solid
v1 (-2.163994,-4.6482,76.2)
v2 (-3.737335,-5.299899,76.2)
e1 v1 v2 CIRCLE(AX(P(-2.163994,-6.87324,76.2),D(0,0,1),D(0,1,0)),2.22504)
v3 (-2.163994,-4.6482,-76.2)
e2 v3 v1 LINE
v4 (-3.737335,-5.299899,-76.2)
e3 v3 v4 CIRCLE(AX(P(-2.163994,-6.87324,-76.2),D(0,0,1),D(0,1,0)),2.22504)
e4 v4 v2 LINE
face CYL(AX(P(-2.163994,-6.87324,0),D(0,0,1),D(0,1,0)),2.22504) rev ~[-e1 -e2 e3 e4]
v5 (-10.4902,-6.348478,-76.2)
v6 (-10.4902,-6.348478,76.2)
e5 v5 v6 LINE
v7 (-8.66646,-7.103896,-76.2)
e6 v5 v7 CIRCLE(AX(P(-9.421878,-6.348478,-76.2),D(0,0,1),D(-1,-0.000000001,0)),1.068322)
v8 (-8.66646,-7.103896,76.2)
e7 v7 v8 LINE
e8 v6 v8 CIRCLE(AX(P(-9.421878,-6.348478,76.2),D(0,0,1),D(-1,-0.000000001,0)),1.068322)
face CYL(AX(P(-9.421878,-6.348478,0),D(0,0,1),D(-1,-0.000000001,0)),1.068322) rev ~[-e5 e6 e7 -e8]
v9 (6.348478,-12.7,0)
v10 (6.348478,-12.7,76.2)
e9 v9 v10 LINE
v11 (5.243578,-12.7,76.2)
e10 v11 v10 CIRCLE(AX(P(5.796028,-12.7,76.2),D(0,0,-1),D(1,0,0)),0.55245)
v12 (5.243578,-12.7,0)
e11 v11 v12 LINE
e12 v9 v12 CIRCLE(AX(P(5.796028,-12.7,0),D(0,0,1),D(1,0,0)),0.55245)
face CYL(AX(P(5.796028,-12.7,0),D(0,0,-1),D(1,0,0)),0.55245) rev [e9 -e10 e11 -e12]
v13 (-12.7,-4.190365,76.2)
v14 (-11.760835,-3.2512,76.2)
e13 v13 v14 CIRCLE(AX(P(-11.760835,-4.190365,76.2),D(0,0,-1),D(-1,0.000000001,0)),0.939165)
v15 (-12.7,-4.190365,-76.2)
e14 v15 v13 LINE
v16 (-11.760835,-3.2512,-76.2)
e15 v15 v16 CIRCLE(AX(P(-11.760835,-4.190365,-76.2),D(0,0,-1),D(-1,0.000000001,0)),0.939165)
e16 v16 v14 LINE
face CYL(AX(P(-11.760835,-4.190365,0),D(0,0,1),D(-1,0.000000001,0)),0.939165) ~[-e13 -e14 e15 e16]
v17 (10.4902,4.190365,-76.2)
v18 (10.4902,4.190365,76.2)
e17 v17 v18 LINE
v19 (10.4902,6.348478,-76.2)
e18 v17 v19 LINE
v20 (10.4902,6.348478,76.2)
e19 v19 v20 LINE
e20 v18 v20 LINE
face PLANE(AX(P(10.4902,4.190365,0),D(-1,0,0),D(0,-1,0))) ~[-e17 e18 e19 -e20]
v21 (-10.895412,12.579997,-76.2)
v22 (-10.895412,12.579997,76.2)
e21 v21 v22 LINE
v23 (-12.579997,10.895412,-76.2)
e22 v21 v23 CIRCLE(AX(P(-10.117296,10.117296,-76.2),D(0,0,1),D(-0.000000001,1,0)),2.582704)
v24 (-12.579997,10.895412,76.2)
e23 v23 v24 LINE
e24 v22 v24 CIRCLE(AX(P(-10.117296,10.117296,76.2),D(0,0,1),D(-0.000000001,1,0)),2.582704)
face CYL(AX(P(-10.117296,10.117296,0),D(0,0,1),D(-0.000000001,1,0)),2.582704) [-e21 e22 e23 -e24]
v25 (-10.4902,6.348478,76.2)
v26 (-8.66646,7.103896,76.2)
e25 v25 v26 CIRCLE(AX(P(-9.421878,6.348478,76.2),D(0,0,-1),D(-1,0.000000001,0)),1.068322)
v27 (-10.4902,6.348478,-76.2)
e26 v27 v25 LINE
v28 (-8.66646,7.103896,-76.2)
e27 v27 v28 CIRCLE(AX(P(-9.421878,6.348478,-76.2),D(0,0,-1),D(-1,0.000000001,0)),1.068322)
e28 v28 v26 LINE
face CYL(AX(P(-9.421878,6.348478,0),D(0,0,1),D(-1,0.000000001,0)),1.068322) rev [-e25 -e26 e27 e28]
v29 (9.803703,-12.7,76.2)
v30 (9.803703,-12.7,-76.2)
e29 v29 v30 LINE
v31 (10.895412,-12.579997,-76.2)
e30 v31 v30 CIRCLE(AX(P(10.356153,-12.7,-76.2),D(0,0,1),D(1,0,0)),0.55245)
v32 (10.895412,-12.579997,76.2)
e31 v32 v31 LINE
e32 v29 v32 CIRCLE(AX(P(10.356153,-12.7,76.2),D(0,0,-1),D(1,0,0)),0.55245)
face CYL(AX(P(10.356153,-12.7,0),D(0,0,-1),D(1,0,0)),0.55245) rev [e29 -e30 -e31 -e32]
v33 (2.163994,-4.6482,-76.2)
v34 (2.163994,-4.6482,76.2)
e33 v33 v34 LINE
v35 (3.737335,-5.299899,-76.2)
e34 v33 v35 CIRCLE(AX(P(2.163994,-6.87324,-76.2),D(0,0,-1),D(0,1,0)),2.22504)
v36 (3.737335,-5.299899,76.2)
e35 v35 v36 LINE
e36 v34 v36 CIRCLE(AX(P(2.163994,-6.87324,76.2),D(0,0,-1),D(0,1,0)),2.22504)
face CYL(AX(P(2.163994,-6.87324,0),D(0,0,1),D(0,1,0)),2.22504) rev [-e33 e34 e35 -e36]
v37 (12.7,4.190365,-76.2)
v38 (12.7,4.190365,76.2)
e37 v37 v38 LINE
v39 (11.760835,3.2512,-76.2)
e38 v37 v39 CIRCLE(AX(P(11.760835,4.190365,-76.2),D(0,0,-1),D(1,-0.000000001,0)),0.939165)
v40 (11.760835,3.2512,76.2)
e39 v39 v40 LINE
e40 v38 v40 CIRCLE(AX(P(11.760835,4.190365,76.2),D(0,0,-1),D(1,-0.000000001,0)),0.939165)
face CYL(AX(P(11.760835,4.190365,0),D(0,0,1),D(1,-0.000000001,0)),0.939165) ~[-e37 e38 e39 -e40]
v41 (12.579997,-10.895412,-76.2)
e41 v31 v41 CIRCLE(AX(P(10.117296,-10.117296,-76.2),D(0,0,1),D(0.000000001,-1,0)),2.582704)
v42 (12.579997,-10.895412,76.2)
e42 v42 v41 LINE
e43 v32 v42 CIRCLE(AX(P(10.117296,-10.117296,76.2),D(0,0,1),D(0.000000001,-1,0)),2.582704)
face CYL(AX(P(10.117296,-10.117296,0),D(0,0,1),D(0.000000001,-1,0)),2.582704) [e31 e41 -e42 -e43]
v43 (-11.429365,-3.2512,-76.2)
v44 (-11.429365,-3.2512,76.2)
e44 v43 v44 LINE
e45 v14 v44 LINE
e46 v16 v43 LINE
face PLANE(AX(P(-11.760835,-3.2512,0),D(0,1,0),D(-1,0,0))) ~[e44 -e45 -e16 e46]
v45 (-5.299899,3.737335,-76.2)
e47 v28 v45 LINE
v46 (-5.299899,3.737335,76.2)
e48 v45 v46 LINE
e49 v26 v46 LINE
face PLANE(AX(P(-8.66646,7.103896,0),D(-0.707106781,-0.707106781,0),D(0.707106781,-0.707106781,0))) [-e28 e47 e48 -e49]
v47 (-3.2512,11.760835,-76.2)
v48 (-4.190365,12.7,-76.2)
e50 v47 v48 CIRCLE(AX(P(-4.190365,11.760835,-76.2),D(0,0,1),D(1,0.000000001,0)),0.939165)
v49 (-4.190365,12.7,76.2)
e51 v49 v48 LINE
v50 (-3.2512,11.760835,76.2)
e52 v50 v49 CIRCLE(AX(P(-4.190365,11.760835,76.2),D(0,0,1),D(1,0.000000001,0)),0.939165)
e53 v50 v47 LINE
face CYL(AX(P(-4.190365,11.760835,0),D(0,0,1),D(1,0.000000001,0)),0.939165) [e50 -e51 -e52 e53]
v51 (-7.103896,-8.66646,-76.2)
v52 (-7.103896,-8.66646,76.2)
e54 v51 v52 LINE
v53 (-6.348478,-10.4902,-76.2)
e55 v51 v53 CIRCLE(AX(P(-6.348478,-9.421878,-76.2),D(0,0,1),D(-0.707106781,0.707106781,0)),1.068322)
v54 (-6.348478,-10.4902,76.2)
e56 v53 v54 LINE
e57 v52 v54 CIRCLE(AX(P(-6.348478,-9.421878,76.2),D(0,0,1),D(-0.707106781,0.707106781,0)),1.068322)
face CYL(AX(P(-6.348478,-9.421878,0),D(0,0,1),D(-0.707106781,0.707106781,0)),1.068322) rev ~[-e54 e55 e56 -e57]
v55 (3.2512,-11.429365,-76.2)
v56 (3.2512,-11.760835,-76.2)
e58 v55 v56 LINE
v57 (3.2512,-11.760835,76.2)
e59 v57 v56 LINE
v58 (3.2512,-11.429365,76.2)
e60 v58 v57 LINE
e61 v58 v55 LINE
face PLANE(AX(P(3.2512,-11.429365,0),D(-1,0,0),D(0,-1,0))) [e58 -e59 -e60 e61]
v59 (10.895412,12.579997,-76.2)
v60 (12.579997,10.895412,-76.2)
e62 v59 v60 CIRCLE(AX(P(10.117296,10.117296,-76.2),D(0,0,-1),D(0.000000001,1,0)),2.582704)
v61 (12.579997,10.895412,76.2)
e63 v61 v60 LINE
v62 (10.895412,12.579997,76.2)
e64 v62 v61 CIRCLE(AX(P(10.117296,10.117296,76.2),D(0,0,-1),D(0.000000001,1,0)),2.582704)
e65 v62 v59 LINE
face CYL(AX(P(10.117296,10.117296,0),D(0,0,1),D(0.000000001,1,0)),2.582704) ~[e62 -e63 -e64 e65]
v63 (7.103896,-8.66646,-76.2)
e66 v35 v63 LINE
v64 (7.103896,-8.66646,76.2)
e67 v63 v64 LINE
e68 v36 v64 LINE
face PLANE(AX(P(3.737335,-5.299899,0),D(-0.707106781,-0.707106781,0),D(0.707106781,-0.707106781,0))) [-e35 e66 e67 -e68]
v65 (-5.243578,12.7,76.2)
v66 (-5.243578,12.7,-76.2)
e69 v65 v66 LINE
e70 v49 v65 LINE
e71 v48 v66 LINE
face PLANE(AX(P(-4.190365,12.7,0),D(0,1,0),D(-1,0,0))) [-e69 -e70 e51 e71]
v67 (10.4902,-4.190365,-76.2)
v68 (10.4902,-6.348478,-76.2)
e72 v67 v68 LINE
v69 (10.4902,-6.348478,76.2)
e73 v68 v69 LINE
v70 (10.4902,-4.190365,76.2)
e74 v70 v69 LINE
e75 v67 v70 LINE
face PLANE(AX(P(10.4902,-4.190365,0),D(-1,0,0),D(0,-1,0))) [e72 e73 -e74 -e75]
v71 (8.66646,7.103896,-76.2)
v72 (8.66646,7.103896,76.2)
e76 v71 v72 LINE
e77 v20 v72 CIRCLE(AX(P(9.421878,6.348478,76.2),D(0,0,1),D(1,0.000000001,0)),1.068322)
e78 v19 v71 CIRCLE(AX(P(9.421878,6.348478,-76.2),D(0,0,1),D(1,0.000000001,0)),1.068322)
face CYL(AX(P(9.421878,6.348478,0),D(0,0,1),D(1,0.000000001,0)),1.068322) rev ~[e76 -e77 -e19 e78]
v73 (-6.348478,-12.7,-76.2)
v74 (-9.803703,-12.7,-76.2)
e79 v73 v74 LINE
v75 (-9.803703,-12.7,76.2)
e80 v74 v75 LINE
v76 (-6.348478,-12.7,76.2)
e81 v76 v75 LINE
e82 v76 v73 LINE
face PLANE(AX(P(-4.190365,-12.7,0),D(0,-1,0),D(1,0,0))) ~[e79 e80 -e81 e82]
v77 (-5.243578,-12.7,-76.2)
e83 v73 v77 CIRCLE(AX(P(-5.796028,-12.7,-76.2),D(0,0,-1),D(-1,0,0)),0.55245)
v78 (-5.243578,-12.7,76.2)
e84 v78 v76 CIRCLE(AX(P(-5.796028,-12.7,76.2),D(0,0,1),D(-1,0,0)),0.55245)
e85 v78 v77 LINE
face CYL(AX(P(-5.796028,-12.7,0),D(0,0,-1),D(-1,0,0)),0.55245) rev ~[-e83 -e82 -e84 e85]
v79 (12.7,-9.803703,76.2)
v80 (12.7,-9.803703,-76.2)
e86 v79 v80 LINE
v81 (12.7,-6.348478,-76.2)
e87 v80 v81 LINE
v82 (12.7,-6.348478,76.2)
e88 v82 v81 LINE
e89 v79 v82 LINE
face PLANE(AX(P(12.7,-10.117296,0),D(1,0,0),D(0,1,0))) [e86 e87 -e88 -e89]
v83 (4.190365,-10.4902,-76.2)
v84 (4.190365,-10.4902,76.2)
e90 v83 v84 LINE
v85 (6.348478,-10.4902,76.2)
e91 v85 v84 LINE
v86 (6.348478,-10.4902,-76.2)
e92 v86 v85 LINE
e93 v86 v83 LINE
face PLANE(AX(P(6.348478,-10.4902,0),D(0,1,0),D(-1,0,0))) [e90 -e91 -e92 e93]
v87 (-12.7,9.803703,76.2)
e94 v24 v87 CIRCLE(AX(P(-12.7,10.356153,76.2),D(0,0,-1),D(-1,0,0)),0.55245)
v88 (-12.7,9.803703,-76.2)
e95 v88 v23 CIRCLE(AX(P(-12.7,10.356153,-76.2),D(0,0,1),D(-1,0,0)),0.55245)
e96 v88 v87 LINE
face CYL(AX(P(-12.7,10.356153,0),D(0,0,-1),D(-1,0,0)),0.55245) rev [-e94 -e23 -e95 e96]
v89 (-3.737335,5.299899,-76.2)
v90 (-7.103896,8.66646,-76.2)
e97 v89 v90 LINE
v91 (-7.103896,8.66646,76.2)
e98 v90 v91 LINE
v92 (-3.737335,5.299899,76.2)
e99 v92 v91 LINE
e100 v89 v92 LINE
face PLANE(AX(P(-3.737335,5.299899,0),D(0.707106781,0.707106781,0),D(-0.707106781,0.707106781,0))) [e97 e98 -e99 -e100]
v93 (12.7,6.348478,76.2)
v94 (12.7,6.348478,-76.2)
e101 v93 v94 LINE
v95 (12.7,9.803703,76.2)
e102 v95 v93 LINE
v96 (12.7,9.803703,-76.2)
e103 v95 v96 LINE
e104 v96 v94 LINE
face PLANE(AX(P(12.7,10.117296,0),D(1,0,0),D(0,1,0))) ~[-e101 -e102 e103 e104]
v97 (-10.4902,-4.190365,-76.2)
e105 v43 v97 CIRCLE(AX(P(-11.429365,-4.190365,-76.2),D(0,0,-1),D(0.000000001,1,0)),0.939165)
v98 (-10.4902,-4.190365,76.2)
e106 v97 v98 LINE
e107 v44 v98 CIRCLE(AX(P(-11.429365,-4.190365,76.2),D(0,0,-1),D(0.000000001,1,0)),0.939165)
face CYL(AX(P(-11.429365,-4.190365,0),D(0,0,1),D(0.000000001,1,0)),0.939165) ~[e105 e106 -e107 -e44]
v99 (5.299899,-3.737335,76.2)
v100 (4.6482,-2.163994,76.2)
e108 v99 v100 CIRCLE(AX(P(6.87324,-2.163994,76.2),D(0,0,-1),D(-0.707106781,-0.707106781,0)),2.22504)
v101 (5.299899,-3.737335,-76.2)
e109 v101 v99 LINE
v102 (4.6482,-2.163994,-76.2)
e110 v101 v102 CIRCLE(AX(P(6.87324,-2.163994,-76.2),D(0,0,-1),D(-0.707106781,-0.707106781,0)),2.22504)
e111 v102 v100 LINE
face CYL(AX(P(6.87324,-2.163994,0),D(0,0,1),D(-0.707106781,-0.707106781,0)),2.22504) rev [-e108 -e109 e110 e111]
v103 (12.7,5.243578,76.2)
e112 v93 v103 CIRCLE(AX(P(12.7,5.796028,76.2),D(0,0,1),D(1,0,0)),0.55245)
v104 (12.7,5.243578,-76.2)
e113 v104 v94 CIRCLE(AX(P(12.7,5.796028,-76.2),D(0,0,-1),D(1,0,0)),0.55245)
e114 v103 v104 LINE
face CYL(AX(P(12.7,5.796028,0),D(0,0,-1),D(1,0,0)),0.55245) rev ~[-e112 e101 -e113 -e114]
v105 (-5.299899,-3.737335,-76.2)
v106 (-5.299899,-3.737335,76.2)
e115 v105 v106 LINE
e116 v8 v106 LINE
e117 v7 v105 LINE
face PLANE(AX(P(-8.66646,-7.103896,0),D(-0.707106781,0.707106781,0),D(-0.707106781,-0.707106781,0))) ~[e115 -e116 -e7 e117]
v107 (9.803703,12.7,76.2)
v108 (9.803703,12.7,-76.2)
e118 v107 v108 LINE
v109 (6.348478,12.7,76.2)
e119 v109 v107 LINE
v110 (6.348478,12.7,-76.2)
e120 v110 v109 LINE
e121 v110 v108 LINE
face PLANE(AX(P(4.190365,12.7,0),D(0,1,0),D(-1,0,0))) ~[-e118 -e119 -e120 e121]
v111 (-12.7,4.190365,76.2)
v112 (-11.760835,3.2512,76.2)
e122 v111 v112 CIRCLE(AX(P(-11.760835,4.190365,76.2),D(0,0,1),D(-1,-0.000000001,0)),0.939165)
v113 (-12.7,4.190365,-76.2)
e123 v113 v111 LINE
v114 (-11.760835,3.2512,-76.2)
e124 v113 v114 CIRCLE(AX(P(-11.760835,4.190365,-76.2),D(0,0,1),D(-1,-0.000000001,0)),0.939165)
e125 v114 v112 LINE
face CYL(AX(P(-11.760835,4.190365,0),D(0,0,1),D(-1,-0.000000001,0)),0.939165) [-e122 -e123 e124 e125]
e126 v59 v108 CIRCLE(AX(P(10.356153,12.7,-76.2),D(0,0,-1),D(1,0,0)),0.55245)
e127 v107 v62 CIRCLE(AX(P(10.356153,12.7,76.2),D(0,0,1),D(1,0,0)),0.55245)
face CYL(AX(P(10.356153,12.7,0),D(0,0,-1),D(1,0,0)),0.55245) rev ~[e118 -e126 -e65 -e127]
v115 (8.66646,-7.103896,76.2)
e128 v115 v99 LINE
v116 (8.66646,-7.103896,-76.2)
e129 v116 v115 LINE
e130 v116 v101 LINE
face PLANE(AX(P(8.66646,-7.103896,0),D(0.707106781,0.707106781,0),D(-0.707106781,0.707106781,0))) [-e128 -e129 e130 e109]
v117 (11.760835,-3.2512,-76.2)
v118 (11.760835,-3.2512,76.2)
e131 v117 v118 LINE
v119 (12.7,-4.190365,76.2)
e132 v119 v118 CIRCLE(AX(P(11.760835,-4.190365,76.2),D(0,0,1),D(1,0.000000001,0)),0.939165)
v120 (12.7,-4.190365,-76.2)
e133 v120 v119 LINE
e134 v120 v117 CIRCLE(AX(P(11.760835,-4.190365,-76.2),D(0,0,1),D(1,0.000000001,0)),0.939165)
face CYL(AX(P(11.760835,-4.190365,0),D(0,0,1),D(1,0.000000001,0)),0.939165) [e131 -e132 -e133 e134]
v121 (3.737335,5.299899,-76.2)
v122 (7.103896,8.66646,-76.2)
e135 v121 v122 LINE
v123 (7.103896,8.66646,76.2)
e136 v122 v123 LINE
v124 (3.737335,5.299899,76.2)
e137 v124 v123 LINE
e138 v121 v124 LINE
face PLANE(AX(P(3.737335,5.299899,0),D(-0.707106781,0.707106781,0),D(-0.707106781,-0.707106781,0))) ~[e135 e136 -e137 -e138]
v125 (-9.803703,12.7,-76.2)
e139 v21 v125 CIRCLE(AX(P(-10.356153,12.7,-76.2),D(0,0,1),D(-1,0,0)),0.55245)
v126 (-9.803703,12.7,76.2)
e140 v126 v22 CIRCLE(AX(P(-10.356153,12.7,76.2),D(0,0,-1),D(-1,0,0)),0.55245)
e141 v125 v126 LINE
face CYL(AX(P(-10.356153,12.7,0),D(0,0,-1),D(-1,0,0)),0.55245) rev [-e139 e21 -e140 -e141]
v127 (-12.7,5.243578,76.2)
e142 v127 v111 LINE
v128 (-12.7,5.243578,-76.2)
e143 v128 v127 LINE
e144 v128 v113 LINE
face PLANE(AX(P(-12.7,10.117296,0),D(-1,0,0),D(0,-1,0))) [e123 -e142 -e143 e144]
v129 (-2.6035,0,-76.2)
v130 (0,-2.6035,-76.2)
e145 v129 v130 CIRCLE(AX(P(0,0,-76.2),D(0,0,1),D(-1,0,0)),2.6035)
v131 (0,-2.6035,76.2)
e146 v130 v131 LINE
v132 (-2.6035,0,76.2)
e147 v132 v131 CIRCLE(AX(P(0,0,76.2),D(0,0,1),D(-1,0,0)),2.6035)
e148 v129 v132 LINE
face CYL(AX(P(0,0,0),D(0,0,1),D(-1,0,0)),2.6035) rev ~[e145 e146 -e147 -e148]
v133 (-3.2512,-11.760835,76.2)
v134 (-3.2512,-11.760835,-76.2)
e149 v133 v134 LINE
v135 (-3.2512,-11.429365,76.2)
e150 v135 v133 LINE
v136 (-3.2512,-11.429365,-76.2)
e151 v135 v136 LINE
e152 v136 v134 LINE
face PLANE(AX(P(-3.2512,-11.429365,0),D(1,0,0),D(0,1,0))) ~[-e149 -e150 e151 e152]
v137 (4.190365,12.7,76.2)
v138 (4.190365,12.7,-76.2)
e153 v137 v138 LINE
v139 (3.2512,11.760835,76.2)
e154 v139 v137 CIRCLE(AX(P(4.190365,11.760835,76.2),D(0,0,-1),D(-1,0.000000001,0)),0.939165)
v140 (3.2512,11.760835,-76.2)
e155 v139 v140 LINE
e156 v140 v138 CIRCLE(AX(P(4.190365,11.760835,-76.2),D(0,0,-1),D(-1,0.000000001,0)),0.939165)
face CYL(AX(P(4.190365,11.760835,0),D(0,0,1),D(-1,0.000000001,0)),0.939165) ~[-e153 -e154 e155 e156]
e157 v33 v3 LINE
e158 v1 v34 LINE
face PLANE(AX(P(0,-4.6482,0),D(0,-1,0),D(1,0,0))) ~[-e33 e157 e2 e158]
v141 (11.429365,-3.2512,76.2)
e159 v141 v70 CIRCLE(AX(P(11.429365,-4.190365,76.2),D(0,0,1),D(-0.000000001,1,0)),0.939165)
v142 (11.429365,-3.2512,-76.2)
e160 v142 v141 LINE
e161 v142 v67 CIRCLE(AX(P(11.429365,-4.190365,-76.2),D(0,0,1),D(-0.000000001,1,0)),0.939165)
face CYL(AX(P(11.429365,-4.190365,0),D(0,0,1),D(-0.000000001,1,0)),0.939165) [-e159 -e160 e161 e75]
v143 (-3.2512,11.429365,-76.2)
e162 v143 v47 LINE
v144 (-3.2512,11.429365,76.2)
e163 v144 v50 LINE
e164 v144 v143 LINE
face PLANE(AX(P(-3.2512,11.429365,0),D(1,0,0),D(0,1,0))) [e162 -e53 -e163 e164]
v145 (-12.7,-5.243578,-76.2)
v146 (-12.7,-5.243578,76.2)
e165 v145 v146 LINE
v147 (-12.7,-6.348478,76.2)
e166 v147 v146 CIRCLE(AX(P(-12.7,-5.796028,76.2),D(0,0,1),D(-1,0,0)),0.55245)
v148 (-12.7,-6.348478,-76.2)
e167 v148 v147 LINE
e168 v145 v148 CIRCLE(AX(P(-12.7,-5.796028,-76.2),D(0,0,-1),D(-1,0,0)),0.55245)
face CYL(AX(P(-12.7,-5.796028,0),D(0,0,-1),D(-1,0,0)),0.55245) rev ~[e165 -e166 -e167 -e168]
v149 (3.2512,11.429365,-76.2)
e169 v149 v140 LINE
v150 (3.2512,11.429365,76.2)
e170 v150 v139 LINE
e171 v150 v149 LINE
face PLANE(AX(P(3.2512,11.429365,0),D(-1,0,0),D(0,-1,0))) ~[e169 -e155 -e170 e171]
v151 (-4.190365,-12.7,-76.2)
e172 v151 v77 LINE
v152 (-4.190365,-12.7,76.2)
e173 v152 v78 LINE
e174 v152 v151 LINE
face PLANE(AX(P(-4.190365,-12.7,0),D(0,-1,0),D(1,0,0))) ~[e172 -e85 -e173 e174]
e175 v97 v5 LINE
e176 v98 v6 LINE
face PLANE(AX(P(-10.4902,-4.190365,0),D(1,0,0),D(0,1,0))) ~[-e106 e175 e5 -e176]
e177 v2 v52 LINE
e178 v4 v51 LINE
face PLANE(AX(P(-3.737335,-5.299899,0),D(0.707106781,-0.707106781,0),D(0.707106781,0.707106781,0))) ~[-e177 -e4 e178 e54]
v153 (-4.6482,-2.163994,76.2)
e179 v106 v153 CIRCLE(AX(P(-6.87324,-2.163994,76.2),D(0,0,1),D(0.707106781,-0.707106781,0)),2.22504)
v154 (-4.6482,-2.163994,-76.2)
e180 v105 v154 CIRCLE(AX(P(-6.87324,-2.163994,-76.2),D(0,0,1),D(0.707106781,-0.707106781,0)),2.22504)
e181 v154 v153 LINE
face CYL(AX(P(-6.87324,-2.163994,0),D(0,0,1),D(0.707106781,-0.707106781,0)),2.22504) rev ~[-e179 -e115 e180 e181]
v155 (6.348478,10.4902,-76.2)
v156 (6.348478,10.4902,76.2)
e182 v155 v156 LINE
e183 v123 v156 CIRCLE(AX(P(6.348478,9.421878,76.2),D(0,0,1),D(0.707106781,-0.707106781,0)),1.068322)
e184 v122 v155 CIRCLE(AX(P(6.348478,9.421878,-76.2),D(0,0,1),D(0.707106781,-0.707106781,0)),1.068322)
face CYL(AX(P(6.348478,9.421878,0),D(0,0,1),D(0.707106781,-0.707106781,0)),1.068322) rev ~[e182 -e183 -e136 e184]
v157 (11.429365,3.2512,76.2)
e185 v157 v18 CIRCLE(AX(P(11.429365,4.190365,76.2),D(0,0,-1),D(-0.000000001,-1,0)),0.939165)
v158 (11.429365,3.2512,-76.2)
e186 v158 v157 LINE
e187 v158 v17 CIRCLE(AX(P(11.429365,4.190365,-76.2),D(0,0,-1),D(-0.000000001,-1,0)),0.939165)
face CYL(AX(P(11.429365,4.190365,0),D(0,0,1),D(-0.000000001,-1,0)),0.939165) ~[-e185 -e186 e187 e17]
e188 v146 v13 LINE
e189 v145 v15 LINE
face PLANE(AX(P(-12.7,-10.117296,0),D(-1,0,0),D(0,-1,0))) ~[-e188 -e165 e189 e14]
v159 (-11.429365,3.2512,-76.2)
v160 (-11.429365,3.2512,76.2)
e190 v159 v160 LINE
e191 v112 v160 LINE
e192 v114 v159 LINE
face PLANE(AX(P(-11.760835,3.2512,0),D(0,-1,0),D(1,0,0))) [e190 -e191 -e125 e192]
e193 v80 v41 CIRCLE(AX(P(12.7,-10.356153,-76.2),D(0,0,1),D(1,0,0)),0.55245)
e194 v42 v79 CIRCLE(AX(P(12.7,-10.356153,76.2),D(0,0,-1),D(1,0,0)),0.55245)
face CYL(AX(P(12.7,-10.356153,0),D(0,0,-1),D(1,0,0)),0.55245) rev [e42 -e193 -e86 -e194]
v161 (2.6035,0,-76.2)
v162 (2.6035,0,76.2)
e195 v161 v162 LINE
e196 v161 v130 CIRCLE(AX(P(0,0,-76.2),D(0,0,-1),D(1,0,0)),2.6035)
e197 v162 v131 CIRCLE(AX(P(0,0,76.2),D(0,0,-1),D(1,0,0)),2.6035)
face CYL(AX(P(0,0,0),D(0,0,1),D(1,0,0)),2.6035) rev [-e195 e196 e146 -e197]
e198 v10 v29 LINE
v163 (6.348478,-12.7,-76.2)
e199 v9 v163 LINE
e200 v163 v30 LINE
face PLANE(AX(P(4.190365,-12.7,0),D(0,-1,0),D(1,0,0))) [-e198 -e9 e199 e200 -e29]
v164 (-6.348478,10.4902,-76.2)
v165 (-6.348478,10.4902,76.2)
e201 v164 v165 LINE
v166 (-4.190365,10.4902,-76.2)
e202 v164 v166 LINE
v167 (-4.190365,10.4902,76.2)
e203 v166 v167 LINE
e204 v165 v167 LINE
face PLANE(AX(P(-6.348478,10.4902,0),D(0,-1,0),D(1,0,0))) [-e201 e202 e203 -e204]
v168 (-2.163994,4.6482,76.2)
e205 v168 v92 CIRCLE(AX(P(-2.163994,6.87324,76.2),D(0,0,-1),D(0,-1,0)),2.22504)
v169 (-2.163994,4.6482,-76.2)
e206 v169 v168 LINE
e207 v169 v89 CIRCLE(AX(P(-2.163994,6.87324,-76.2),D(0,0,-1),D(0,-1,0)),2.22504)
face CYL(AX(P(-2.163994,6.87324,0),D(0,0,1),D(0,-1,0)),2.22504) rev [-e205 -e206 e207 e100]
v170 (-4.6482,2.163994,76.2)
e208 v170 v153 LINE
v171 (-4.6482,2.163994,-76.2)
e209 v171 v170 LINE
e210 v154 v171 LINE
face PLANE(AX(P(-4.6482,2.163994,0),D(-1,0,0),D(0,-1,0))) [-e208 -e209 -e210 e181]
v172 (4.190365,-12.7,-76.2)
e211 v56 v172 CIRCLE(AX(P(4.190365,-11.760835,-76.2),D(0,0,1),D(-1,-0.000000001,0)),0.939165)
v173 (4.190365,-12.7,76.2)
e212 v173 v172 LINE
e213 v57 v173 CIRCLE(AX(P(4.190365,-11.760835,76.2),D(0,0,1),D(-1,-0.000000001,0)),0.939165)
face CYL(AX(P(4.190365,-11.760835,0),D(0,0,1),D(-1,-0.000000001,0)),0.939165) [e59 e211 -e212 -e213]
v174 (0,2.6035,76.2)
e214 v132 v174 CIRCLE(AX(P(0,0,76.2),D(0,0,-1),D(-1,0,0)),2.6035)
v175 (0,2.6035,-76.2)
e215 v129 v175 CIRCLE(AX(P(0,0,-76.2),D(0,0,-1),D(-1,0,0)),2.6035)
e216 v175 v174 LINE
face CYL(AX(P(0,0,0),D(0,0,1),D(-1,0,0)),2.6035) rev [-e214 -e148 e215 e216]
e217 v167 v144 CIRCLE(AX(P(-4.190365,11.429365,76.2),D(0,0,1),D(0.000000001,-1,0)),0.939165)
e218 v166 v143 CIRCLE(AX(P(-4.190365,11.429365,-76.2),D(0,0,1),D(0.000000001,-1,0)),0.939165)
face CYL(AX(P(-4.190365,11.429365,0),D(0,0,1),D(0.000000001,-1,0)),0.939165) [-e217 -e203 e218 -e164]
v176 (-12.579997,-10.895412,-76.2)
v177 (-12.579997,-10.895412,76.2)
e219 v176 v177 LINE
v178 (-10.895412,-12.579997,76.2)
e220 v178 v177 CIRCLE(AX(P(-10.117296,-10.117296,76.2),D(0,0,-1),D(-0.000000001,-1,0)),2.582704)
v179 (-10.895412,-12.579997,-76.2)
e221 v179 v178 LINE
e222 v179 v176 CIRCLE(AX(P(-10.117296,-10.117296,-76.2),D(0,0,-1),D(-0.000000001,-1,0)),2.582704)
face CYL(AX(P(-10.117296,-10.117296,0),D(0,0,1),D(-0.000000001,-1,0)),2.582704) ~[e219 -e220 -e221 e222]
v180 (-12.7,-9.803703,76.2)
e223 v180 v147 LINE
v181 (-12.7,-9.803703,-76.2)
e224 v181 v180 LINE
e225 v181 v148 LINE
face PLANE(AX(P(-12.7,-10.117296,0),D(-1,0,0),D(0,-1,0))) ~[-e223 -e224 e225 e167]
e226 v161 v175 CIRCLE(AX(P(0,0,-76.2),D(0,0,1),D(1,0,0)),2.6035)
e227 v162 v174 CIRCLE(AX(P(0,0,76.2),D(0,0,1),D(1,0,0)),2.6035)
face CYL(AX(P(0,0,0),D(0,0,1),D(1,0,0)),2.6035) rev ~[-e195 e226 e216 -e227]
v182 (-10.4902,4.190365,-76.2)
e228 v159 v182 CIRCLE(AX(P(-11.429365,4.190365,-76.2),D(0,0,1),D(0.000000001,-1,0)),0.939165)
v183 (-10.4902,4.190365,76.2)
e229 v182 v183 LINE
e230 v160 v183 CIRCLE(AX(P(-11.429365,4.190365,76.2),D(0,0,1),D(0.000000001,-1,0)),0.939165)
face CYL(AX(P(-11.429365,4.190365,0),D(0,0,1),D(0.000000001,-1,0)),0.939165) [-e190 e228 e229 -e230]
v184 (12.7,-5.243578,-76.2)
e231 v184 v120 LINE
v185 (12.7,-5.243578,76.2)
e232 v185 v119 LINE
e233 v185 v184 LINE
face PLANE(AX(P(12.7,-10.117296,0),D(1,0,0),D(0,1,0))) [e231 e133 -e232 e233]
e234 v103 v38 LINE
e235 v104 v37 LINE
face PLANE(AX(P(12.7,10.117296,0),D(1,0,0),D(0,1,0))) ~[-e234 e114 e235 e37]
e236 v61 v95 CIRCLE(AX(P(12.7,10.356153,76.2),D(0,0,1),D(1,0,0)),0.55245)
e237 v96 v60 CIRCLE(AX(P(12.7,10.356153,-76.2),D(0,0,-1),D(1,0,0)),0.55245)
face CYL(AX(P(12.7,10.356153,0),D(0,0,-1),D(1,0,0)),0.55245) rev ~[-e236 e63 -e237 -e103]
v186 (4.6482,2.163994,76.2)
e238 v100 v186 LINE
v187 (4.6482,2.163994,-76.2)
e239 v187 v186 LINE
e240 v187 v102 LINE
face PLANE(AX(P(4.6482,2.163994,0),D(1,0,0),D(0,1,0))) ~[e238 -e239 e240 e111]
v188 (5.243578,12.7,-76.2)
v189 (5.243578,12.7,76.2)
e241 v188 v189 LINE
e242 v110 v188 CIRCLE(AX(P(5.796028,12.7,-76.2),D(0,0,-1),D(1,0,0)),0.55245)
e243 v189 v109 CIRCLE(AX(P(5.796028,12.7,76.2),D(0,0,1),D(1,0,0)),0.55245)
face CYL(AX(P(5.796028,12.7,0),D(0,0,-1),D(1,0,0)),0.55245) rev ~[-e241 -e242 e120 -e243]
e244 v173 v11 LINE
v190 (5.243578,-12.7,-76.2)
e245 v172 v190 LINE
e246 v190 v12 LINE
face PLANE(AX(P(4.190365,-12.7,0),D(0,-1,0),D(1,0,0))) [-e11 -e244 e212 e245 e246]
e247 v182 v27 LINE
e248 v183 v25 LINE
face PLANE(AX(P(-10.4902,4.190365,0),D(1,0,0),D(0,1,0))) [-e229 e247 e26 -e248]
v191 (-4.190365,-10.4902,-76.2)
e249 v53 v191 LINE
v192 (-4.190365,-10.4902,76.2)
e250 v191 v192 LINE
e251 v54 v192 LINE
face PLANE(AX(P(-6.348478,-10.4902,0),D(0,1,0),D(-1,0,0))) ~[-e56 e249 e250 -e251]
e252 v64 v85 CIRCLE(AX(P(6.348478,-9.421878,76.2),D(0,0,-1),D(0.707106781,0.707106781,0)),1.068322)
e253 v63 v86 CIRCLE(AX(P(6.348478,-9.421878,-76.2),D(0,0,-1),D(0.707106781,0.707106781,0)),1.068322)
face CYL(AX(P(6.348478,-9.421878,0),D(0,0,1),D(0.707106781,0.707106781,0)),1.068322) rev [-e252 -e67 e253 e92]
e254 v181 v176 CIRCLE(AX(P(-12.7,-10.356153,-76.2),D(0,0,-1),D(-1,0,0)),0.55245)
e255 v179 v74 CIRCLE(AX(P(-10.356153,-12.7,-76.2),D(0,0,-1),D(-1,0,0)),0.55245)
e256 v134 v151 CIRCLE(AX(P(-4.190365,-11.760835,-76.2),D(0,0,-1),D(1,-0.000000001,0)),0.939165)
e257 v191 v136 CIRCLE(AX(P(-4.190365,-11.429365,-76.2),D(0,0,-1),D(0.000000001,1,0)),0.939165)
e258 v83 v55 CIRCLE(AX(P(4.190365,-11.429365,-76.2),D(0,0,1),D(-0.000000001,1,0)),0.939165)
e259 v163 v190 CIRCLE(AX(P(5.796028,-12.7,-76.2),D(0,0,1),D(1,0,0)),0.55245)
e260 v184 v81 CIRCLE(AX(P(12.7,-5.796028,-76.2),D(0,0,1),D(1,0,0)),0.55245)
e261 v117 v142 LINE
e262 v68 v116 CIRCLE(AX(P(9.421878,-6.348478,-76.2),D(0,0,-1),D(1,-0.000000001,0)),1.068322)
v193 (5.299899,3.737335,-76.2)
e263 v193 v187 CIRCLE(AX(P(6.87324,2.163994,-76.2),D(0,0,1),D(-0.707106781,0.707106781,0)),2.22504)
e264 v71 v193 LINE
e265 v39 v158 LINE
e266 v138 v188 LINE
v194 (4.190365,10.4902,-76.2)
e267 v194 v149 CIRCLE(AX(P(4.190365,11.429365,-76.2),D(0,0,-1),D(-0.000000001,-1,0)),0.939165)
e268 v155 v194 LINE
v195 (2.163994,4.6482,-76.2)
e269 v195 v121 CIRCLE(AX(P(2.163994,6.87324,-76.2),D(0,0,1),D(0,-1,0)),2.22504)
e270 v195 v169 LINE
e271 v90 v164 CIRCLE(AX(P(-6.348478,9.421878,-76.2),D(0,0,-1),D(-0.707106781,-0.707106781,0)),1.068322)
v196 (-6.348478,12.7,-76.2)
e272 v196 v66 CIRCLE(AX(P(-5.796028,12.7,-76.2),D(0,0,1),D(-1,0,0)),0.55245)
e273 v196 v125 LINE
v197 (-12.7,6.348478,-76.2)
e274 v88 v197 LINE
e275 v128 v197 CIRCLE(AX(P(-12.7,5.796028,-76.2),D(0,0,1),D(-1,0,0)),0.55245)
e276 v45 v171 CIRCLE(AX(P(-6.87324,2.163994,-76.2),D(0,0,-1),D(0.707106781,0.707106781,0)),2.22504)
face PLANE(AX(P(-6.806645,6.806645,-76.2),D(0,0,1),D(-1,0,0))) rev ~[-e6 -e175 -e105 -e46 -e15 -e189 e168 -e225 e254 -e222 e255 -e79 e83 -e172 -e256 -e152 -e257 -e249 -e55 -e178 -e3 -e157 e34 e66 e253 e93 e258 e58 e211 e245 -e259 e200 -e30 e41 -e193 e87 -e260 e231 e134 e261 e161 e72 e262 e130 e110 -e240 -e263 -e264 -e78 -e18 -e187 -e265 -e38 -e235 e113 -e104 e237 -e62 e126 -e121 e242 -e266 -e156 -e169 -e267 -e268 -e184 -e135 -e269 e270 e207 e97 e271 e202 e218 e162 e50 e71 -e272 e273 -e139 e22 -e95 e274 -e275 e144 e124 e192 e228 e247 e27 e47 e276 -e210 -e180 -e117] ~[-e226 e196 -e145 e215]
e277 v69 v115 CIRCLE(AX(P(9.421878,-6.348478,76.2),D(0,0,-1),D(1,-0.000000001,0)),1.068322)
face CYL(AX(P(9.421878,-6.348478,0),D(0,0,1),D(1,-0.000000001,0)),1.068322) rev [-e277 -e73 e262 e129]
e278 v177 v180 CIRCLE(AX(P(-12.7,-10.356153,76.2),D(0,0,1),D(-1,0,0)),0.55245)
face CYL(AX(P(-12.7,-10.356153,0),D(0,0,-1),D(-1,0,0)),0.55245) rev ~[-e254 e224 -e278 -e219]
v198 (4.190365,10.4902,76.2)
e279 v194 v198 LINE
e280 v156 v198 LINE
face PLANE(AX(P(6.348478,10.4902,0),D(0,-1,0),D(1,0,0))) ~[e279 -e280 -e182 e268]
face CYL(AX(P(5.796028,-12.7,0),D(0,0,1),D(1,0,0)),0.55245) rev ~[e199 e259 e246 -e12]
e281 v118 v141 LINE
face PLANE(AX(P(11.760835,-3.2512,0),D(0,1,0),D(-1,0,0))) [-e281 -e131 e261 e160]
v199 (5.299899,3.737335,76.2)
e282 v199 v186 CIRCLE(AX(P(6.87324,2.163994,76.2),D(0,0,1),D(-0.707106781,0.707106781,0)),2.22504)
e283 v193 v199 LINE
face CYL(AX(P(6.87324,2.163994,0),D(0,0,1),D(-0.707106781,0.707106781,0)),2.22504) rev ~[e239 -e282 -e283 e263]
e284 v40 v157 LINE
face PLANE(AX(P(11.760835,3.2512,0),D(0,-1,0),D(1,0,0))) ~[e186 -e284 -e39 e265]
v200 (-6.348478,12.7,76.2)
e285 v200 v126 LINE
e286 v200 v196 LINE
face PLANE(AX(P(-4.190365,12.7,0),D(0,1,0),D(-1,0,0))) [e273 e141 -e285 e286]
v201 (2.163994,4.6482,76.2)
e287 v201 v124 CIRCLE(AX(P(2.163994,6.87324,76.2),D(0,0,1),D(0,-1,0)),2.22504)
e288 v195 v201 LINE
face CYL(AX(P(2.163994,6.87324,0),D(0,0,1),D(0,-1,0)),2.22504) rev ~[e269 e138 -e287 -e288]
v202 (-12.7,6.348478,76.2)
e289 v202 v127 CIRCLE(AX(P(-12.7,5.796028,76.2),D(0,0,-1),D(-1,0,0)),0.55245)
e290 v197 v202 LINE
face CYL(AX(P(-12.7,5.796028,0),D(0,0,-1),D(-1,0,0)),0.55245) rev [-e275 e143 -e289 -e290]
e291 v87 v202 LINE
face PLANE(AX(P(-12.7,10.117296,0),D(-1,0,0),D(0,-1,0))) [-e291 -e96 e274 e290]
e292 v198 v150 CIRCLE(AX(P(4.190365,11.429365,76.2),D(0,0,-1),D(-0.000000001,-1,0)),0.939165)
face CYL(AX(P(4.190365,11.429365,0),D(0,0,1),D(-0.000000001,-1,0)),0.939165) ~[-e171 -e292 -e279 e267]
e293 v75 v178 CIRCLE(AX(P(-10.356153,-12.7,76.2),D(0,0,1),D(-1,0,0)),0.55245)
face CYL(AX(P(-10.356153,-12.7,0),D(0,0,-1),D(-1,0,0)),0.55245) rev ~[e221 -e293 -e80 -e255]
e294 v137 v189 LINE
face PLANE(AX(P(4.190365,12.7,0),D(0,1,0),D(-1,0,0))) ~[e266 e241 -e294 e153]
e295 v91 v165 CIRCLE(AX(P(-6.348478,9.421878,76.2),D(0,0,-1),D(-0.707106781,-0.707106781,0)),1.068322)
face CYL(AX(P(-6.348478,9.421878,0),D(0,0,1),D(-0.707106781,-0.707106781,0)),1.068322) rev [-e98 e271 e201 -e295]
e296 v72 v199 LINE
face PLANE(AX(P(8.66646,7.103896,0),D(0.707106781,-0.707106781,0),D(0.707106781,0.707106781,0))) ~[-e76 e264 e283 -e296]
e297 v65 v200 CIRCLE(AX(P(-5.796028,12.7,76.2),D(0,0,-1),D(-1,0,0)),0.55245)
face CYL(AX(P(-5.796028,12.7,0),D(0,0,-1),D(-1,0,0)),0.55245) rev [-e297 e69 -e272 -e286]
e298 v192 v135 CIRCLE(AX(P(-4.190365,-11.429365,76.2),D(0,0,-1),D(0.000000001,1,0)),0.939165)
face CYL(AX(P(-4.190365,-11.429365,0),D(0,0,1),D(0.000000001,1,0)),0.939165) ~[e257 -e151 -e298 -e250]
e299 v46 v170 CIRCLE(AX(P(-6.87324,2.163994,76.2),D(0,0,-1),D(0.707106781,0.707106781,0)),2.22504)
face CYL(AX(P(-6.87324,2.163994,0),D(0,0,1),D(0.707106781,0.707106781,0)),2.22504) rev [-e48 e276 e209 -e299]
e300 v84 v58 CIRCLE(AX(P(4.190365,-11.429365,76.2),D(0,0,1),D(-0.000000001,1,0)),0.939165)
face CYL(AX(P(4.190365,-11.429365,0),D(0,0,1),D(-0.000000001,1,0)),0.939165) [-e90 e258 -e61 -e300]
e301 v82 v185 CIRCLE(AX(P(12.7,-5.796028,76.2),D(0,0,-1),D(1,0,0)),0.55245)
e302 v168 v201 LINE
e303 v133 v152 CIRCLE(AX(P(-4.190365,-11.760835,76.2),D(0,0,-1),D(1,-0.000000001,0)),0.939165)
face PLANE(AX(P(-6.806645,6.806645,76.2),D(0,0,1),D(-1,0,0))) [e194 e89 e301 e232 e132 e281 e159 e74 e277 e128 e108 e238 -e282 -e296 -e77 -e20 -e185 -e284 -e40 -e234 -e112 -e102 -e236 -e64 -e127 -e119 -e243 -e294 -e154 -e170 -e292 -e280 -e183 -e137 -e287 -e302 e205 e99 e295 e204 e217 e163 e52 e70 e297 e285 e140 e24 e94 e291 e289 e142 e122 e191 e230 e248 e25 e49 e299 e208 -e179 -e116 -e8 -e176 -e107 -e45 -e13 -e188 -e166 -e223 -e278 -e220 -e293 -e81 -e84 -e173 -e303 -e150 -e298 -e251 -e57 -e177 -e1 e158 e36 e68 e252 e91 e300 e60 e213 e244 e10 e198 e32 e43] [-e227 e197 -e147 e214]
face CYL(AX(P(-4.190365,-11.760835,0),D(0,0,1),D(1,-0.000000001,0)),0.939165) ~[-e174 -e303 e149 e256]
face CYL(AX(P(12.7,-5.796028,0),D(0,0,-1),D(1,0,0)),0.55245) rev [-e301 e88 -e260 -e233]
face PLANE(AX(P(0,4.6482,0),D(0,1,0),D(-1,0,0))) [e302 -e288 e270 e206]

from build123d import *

# Parameters (mm, degrees)
BOSS_EXTRUDE1_DEPTH     = 76.2
SKETCH5_R               = 0.55245
CUT_EXTRUDE1_DEPTH      = 77.2
CUT_EXTRUDE1_DEPTH_BACK = 77.2


with BuildPart() as part:
    # Sketch4 → Boss-Extrude1 (new body, symmetric)
    with BuildSketch(Plane.XY):
        with BuildLine():
            Line((4.190365, -12.7), (10.11729625, -12.7))
            ThreePointArc((10.11729625, -12.7), (11.943543585, -11.943543585), (12.7, -10.11729625))
            Line((12.7, -10.11729625), (12.7, -4.190365))
            ThreePointArc((12.7, -4.190365), (12.42492494, -3.52627506), (11.760835, -3.2512))
            Line((11.760835, -3.2512), (11.429365, -3.2512))
            ThreePointArc((11.429365, -3.2512), (10.76527506, -3.52627506), (10.4902, -4.190365))
            Line((10.4902, -4.190365), (10.4902, -6.348478019))
            ThreePointArc((10.4902, -6.348478019), (9.830707141, -7.335478831), (8.666460301, -7.103895736))
            Line((8.666460301, -7.103895736), (5.299899128, -3.737334563))
            ThreePointArc((5.299899128, -3.737334563), (4.817571085, -3.015479634), (4.6482, -2.16399369))
            Line((4.6482, -2.16399369), (4.6482, 0))
            Line((4.6482, 0), (2.6035, 0))
            ThreePointArc((2.6035, 0), (1.840952505, -1.840952505), (0, -2.6035))
            Line((0, -2.6035), (0, -4.6482))
            Line((0, -4.6482), (2.16399369, -4.6482))
            ThreePointArc((2.16399369, -4.6482), (3.015479634, -4.817571085), (3.737334563, -5.299899128))
            Line((3.737334563, -5.299899128), (7.103895736, -8.666460301))
            ThreePointArc((7.103895736, -8.666460301), (7.335478831, -9.830707141), (6.348478019, -10.4902))
            Line((6.348478019, -10.4902), (4.190365, -10.4902))
            ThreePointArc((4.190365, -10.4902), (3.52627506, -10.76527506), (3.2512, -11.429365))
            Line((3.2512, -11.429365), (3.2512, -11.760835))
            ThreePointArc((3.2512, -11.760835), (3.52627506, -12.42492494), (4.190365, -12.7))
        make_face()
    extrude(amount=BOSS_EXTRUDE1_DEPTH, both=True)

    # Sketch5 → Cut-Extrude1 (cut, two sides)
    with BuildSketch(Plane.XY) as cut_extrude1_sk:
        with Locations((10.356153152, -12.7)):
            Circle(SKETCH5_R)
        with Locations((5.796028019, -12.7)):
            Circle(SKETCH5_R)
        with Locations((12.7, -10.356153152)):
            Circle(SKETCH5_R)
        with Locations((12.7, -5.796028019)):
            Circle(SKETCH5_R)
    extrude(amount=CUT_EXTRUDE1_DEPTH, mode=Mode.SUBTRACT)
    extrude(cut_extrude1_sk.sketch, amount=-CUT_EXTRUDE1_DEPTH_BACK, mode=Mode.SUBTRACT)

    # Mirror1: part across plane


with BuildPart() as part_1:
    add(part.part)
    add(part.part.mirror(Plane(origin=(0, 0, 0), x_dir=(0, 0, 1), z_dir=(1, 0, 0))))

    # Mirror2: part across plane


with BuildPart() as part_2:
    add(part_1.part)
    add(part_1.part.mirror(Plane.ZX))


solid = part_2.part
